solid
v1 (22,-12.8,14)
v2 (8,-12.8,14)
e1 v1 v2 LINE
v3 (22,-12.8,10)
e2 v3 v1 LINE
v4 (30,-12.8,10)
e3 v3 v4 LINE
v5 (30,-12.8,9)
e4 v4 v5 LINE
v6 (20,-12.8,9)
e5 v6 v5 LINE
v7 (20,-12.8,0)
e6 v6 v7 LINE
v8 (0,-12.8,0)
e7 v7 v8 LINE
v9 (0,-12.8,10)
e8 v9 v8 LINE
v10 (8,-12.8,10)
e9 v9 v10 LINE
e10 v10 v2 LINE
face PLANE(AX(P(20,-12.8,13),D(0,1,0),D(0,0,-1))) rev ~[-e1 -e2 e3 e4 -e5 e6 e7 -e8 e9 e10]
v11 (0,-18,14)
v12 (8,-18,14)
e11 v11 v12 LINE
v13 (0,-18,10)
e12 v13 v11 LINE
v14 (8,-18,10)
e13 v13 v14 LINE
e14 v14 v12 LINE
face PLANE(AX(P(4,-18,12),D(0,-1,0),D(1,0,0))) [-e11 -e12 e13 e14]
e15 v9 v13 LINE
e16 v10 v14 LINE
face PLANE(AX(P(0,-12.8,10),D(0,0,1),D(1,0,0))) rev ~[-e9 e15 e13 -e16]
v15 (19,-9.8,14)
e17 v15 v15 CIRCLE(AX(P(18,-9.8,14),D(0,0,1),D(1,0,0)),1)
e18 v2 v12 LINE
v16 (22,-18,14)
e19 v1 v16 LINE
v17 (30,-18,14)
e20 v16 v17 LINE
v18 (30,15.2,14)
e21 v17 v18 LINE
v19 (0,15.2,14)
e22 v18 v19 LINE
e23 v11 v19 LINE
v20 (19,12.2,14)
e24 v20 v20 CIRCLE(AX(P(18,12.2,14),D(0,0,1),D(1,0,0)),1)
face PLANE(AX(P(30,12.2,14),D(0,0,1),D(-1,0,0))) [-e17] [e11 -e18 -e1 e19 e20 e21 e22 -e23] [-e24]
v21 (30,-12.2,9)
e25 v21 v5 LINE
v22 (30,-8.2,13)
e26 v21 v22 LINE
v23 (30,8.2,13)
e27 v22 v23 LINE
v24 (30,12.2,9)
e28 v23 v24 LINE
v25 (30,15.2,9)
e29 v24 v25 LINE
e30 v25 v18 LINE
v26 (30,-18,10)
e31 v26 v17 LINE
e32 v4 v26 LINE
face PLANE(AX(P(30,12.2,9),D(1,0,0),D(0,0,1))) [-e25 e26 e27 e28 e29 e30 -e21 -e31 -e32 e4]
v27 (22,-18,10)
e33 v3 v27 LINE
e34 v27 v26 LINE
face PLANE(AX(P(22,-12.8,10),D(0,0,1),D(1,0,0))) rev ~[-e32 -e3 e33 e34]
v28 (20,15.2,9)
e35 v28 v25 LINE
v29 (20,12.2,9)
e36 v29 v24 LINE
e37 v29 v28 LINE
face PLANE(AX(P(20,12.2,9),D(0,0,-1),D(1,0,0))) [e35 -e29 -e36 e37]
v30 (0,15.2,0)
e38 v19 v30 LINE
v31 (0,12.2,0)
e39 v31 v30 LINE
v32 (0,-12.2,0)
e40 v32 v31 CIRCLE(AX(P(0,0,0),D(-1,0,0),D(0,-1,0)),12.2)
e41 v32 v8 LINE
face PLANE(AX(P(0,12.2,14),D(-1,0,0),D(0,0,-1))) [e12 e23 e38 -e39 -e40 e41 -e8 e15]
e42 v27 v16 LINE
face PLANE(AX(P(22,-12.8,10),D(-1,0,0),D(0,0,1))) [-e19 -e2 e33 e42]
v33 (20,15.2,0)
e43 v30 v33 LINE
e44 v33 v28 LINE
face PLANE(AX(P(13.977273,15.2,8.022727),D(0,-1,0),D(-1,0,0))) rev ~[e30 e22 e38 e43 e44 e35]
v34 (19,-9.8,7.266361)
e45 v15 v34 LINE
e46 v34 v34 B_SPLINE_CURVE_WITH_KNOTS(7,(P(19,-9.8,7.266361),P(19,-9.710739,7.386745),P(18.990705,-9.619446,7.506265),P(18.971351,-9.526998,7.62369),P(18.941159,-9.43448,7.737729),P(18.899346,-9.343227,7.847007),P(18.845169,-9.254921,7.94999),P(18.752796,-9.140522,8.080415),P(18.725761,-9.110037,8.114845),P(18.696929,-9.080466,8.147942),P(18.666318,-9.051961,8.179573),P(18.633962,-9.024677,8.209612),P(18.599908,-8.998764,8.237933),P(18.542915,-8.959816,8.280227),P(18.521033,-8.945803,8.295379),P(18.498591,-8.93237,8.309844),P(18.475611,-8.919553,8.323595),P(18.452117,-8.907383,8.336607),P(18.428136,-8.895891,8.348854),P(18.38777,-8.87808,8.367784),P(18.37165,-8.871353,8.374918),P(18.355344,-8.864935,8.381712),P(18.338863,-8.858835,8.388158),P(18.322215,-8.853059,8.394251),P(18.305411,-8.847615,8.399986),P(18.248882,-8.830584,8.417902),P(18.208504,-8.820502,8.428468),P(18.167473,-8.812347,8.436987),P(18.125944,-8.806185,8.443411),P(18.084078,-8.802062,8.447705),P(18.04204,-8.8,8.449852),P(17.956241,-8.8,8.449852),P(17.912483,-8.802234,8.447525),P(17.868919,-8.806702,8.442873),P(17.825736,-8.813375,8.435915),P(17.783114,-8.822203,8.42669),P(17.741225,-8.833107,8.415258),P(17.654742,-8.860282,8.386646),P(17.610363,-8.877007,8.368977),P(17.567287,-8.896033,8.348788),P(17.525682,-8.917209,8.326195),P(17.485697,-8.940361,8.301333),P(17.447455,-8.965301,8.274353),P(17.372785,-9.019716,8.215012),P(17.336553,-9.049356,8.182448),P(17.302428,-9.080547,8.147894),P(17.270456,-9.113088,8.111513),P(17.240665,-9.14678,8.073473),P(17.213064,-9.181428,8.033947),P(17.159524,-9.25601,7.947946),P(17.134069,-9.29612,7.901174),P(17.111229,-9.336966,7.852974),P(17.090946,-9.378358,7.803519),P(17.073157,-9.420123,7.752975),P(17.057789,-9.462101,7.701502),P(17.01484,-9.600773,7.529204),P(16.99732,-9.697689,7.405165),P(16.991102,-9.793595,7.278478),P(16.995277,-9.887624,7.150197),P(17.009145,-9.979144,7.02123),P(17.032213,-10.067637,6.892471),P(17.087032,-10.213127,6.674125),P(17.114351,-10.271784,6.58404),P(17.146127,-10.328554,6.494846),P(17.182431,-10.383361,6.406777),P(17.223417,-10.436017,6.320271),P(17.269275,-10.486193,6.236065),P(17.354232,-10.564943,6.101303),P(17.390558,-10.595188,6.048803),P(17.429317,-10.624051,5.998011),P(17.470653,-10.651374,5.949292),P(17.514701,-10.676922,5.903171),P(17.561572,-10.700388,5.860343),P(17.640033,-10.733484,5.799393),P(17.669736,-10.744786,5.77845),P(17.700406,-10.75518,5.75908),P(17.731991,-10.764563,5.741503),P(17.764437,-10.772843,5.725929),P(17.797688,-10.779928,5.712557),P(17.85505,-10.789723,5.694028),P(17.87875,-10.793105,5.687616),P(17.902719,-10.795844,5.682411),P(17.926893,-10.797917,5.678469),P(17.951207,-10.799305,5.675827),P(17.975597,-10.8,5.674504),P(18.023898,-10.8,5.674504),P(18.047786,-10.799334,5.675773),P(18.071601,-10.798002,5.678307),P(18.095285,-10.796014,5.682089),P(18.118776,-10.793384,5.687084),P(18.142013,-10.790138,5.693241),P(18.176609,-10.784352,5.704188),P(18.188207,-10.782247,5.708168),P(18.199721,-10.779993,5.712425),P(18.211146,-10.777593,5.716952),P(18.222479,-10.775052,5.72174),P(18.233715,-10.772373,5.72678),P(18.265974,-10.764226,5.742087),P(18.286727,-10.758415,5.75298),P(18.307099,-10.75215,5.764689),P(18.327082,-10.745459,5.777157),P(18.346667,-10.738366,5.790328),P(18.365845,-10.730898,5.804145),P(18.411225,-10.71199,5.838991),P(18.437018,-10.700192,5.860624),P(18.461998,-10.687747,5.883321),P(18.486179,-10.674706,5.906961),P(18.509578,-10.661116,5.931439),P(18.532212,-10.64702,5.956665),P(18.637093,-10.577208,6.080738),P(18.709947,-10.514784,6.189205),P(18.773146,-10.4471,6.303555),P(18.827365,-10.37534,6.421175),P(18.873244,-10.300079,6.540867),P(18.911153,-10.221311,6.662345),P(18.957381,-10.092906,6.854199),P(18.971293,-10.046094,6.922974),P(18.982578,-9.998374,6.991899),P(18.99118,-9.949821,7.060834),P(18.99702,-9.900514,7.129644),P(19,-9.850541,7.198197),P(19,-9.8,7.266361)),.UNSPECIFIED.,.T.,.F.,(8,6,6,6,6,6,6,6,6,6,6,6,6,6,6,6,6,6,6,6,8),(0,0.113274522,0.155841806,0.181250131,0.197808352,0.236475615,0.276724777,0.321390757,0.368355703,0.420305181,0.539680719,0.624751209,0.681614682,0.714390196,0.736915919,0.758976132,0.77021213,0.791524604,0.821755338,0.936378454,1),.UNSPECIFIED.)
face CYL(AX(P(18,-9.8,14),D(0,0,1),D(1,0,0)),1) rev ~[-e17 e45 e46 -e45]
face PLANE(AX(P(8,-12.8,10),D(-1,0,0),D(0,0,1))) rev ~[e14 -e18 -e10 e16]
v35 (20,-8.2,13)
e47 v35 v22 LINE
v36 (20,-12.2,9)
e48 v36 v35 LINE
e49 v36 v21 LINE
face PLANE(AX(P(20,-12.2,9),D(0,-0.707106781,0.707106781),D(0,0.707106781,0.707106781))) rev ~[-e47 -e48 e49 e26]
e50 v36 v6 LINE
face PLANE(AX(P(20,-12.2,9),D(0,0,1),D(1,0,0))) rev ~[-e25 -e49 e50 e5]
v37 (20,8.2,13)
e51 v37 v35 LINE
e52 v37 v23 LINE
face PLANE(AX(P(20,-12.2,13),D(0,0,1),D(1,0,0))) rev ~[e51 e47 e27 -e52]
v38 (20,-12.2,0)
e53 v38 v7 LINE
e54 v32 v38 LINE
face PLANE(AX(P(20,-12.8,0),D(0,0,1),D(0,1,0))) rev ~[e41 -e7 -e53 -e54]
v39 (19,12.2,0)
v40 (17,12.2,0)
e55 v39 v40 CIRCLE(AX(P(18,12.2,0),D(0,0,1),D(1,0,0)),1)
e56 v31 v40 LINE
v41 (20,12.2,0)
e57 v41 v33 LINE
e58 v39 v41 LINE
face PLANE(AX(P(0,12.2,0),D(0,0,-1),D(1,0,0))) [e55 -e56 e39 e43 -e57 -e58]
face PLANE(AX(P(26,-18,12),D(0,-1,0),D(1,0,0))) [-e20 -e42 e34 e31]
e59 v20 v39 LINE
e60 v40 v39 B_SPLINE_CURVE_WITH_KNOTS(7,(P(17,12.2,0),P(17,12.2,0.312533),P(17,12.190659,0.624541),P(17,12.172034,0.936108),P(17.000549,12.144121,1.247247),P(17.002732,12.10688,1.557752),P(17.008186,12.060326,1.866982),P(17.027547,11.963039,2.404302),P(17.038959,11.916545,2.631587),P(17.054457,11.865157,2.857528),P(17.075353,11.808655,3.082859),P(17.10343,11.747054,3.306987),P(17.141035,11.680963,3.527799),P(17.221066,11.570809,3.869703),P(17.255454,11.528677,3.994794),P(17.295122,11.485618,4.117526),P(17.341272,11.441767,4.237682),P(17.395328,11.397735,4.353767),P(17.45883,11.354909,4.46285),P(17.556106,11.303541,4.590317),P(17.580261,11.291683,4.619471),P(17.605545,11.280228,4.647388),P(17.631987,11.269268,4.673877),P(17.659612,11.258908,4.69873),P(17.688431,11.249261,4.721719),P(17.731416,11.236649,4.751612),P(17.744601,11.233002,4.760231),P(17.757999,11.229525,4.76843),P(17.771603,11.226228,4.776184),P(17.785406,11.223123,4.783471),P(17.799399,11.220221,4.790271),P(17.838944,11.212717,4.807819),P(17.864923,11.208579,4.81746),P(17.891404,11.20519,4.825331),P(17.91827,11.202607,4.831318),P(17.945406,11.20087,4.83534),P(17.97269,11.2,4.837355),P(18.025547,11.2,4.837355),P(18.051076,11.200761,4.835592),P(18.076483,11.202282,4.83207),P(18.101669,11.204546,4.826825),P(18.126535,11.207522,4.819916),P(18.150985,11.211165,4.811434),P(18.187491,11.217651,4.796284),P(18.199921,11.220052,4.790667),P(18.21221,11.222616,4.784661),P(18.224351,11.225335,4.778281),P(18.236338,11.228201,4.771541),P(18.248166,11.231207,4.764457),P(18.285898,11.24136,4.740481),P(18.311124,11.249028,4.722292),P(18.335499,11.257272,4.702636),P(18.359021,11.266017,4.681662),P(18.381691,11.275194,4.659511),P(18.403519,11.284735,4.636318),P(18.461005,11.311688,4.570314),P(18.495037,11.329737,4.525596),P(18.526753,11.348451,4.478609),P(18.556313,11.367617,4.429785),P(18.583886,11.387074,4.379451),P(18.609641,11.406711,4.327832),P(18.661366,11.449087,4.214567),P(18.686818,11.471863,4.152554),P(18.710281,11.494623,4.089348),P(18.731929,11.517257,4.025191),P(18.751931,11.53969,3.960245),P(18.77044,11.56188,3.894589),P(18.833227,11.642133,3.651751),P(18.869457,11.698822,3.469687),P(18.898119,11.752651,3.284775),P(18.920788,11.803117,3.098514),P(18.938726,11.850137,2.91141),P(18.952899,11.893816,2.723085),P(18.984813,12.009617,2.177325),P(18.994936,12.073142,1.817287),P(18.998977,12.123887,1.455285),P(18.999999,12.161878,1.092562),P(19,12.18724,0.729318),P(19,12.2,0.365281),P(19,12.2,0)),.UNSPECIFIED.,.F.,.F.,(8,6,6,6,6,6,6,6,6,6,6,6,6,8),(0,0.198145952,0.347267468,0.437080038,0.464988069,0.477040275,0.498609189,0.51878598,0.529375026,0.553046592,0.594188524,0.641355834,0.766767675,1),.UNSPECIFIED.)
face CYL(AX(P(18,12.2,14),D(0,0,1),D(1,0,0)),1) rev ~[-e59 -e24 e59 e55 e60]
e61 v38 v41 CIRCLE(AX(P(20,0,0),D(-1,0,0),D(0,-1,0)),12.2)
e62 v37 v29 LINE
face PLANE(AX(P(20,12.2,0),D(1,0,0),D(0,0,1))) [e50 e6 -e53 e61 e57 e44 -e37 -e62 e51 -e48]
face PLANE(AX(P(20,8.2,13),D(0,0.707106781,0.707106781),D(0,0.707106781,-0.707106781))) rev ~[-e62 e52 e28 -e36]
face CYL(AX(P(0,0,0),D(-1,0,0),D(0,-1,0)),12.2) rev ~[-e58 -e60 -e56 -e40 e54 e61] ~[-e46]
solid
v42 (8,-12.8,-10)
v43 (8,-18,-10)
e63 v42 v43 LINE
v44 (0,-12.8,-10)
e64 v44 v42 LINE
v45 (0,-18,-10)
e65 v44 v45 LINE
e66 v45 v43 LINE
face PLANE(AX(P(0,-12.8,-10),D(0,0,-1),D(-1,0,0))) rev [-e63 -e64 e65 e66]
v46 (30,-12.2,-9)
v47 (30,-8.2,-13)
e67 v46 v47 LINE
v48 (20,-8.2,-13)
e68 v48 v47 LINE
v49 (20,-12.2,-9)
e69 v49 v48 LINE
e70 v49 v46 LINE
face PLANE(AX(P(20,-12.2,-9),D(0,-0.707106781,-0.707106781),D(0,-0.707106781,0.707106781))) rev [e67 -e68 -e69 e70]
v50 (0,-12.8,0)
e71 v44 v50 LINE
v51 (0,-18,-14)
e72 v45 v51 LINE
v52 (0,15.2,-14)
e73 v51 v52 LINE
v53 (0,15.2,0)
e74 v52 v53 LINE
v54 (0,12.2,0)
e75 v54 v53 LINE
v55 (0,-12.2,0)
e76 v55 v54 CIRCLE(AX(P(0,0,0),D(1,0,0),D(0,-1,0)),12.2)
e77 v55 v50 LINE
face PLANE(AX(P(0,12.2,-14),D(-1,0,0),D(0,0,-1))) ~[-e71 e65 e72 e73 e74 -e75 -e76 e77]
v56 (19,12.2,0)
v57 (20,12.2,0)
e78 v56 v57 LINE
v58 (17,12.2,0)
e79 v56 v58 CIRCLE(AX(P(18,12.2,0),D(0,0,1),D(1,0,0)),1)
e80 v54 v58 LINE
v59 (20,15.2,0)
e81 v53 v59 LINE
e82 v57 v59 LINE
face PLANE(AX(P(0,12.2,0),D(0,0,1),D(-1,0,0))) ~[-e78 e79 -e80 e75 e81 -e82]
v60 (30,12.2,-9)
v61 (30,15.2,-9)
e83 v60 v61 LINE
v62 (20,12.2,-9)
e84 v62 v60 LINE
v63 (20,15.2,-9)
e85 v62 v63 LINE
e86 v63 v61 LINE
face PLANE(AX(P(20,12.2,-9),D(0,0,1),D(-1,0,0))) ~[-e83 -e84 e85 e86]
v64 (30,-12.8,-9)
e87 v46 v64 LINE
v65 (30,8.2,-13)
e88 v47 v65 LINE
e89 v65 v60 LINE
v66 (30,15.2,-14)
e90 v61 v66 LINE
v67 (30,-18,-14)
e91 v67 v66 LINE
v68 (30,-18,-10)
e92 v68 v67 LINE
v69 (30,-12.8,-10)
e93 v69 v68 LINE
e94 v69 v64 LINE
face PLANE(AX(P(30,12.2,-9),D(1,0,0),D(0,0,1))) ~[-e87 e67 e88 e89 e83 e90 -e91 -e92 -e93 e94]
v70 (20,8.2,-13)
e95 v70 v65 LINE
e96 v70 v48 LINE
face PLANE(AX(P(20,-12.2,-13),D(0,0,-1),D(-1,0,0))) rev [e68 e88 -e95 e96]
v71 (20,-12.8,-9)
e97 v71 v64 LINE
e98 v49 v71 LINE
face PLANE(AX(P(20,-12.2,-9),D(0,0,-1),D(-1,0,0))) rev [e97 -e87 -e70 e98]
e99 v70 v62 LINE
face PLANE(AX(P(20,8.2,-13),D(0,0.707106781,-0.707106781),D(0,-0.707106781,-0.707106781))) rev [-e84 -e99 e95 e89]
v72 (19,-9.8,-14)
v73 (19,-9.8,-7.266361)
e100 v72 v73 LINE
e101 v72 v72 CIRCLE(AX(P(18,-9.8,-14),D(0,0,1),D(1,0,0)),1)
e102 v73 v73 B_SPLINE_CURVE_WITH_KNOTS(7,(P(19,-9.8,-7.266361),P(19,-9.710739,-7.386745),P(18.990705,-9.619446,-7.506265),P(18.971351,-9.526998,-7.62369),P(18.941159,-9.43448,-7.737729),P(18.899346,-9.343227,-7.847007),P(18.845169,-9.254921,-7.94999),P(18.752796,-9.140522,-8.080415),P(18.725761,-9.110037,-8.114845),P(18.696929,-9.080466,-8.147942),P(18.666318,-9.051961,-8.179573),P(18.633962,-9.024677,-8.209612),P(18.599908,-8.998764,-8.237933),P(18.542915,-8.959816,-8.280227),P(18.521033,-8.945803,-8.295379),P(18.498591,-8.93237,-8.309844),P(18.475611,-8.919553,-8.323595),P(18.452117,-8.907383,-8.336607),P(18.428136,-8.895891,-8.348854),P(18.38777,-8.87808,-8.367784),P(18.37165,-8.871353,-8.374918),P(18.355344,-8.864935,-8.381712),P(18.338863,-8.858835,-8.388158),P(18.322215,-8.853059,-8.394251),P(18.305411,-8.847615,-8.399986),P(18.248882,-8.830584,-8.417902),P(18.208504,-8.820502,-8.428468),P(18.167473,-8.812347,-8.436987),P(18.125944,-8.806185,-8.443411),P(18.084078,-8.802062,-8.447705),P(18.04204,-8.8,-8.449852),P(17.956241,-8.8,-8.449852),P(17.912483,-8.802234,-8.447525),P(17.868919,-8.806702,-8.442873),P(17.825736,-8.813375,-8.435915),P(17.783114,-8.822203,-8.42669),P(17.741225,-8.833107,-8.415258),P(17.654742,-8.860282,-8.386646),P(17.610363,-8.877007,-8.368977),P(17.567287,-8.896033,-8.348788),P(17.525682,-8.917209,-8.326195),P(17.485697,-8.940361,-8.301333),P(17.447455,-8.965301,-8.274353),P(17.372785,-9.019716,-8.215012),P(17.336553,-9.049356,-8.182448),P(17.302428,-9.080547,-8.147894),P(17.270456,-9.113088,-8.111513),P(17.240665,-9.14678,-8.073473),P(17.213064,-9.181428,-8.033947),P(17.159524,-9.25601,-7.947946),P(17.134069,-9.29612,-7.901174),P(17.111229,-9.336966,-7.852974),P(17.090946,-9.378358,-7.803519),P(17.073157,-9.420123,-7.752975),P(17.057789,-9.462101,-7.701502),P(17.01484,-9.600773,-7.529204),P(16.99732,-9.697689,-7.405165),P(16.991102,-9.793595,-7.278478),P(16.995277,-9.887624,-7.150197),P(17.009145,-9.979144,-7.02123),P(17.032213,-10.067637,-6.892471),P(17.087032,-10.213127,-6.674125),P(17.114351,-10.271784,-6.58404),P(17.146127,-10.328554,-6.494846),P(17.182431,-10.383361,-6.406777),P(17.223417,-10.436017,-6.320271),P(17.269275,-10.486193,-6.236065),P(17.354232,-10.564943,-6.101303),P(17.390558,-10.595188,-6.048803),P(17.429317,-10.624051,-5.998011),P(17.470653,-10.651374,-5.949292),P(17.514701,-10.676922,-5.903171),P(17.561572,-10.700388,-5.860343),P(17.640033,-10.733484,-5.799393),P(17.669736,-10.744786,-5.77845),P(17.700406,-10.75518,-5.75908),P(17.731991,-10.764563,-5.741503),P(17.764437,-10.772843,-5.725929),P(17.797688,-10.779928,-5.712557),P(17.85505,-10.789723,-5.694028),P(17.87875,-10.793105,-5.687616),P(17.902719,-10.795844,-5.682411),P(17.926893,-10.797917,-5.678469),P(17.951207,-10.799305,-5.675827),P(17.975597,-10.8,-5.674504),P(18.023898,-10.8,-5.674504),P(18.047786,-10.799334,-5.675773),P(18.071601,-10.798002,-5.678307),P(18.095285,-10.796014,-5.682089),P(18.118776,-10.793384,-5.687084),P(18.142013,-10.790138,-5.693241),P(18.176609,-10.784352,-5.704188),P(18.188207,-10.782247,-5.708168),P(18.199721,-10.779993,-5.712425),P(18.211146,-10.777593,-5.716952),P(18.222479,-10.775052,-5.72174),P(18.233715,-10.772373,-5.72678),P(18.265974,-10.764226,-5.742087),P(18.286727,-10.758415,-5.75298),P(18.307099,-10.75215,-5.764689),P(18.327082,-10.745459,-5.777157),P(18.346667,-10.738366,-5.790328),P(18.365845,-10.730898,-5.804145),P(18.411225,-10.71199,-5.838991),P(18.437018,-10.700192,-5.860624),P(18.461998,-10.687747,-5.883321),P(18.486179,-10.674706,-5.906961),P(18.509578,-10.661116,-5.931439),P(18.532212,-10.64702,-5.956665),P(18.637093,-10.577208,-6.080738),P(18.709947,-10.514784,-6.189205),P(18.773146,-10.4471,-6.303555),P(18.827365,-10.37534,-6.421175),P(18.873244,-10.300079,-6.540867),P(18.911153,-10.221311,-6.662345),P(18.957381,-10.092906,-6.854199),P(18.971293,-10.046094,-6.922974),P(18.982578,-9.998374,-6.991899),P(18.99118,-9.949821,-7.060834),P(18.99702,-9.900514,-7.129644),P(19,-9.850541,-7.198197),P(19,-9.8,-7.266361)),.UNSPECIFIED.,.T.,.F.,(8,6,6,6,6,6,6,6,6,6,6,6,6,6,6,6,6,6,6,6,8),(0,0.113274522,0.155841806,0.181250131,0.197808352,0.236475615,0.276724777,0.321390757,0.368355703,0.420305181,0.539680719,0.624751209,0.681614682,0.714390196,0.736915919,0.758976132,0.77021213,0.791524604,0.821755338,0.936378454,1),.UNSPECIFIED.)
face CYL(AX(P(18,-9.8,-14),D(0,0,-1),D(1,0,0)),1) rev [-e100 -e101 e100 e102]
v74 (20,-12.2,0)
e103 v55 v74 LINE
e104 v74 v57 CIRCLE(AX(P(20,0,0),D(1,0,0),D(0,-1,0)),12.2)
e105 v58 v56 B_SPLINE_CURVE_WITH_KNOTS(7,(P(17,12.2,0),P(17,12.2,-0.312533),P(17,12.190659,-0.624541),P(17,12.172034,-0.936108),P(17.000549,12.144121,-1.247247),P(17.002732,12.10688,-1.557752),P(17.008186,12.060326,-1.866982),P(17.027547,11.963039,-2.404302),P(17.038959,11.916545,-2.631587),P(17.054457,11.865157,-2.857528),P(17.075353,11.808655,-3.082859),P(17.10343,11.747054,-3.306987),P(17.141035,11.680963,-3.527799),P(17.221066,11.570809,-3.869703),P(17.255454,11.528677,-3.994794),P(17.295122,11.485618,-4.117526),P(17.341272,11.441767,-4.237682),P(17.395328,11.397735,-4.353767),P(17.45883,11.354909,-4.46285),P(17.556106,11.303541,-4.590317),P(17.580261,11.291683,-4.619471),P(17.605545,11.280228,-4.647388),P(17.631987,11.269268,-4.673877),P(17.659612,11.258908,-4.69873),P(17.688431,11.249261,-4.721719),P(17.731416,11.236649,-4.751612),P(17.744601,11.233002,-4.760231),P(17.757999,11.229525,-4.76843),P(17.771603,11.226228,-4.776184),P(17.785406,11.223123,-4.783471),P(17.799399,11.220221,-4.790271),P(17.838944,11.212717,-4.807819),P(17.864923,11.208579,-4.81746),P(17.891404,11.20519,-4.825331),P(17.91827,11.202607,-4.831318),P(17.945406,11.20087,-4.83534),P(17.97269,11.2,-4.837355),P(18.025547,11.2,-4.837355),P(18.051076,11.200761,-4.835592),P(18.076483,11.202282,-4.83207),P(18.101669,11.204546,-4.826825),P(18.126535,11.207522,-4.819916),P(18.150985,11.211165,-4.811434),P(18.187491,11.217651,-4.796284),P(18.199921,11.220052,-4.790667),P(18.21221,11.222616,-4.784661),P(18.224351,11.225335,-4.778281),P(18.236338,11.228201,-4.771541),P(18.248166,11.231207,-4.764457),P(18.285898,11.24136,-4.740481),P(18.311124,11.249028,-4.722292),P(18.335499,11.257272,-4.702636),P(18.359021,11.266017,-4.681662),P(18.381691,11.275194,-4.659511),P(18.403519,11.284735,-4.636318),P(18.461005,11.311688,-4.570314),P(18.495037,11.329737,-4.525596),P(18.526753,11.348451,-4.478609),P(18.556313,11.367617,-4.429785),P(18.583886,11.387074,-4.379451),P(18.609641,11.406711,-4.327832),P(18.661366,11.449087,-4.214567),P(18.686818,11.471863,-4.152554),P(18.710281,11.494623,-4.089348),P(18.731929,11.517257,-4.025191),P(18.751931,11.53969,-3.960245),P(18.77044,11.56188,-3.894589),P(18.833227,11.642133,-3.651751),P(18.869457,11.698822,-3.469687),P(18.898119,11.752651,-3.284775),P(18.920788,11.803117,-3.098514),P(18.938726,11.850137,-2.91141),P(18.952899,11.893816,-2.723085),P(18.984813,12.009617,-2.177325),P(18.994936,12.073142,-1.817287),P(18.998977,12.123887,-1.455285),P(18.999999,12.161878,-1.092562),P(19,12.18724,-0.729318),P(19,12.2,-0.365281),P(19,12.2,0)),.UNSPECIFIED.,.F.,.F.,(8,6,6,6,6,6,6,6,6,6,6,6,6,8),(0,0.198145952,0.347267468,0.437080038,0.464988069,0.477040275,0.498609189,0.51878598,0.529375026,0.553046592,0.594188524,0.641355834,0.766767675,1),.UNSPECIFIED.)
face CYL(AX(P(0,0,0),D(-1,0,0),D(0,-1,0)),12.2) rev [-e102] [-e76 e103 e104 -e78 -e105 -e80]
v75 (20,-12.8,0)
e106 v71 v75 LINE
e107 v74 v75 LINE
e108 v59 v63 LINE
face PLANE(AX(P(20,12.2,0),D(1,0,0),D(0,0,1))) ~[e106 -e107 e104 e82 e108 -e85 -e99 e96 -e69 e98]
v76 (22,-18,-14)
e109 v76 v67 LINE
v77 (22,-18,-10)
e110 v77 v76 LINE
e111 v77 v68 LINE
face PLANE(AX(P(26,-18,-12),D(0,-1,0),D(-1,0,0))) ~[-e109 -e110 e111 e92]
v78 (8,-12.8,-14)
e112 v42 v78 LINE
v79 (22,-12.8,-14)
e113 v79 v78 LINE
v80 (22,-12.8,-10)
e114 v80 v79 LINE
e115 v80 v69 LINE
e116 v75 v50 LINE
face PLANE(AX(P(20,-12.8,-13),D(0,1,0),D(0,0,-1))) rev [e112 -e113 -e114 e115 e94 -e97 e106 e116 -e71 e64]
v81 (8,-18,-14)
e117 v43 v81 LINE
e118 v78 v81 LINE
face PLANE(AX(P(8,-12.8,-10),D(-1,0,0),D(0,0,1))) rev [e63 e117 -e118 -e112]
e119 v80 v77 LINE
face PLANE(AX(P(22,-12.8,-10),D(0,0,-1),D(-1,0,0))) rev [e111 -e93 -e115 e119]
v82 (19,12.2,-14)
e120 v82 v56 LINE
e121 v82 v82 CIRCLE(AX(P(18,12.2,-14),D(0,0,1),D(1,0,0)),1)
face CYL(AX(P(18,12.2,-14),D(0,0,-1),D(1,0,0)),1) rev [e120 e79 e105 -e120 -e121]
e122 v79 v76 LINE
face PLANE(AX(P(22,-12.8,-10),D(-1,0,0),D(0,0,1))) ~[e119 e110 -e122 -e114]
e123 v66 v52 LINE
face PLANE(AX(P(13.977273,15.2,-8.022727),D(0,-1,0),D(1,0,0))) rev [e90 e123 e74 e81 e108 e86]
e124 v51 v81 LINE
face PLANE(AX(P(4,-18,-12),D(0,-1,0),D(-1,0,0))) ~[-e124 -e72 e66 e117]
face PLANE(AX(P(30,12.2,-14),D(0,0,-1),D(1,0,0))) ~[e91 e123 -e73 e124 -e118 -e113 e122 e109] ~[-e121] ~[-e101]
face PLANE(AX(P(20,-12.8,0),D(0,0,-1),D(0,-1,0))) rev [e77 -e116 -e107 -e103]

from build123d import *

# Parameters (mm, degrees)
EXTRUDE_1_DEPTH     = 20
SKETCH_2_W          = 1
SKETCH_2_H          = 24.4
EXTRUDE_2_DEPTH     = 10
EXTRUDE_4_DEPTH     = 0.6
EXTRUDE_5_DEPTH     = 10
SKETCH_8_W          = 8
SKETCH_8_H          = 4
EXTRUDE_6_DEPTH     = 5.2
EXTRUDE_7_DEPTH     = 3
SKETCH_3_R          = 1
CUT_EXTRUDE_1_DEPTH = 38.682887363
SKETCH_10_W         = 10
SKETCH_10_H         = 9
CUT_EXTRUDE_2_DEPTH = 3


with BuildPart() as part:
    # 草图1 → 凸台-拉伸1 (new body)
    with BuildSketch(Plane(origin=(0, 0, 0), x_dir=(0, 0, -1), z_dir=(1, 0, 0))):
        with BuildLine():
            Line((0, 12.2), (-14, 12.2))
            Line((-14, 12.2), (-14, -12.2))
            Line((-14, -12.2), (0, -12.2))
            ThreePointArc((0, -12.2), (-12.2, 0), (0, 12.2))
        make_face()
    extrude(amount=EXTRUDE_1_DEPTH)

    # 草图2 → 凸台-拉伸2 (add)
    with BuildSketch(Plane(origin=(20, 0, 0), x_dir=(0, 0, -1), z_dir=(1, 0, 0))):
        with Locations((-13.5, 0)):
            Rectangle(SKETCH_2_W, SKETCH_2_H)
    extrude(amount=EXTRUDE_2_DEPTH)

    # 草图6 → 凸台-拉伸4 (add)
    with BuildSketch(Plane.XZ.offset(12.2)):
        Polygon((0, 14), (0, 0), (20, 0), (20, 13), (30, 13), (30, 14), align=None)
    extrude(amount=EXTRUDE_4_DEPTH)

    # 草图7 → 凸台-拉伸5 (add)
    with BuildSketch(Plane(origin=(20, 0, 0), x_dir=(0, 0, -1), z_dir=(1, 0, 0))):
        Polygon((0, -12.2), (-9, -12.2), (-13, -8.2), (-13, -12.8), (0, -12.8), align=None)
        Polygon((-13, 8.2), (-9, 12.2), (-13, 12.2), align=None)
    extrude(amount=EXTRUDE_5_DEPTH)

    # 草图8 → 凸台-拉伸6 (add)
    with BuildSketch(Plane.XZ.offset(12.8)):
        with Locations((4, 12)):
            Rectangle(SKETCH_8_W, SKETCH_8_H)
        with Locations((26, 12)):
            Rectangle(SKETCH_8_W, SKETCH_8_H)
    extrude(amount=EXTRUDE_6_DEPTH)

    # 草图9 → 凸台-拉伸7 (add)
    with BuildSketch(Plane(origin=(0, 12.2, 0), x_dir=(1, 0, 0), z_dir=(0, 1, 0))):
        Polygon((0, 0), (20, 0), (20, -9), (30, -9), (30, -14), (0, -14), align=None)
    extrude(amount=EXTRUDE_7_DEPTH)

    # 草图3 → 切除-拉伸1 (cut, through all)
    with BuildSketch(Plane.XY.offset(14)):
        with Locations((18, 12.2)):
            Circle(SKETCH_3_R)
        with Locations((18, -9.8)):
            Circle(SKETCH_3_R)
    extrude(amount=-CUT_EXTRUDE_1_DEPTH, mode=Mode.SUBTRACT)

    # 草图10 → 切除-拉伸2 (cut)
    with BuildSketch(Plane(origin=(0, -12.2, 0), x_dir=(1, 0, 0), z_dir=(0, 1, 0))):
        with Locations((25, -4.5)):
            Rectangle(SKETCH_10_W, SKETCH_10_H)
    extrude(amount=-CUT_EXTRUDE_2_DEPTH, mode=Mode.SUBTRACT)


with BuildPart() as body_2:
    # 镜向4: mirrored copy
    add(part.part.mirror(Plane(origin=(0, 15.2, 0), x_dir=(1, 0, 0), z_dir=(0, 0, 1))))


solid = Compound([part.part, body_2.part])
